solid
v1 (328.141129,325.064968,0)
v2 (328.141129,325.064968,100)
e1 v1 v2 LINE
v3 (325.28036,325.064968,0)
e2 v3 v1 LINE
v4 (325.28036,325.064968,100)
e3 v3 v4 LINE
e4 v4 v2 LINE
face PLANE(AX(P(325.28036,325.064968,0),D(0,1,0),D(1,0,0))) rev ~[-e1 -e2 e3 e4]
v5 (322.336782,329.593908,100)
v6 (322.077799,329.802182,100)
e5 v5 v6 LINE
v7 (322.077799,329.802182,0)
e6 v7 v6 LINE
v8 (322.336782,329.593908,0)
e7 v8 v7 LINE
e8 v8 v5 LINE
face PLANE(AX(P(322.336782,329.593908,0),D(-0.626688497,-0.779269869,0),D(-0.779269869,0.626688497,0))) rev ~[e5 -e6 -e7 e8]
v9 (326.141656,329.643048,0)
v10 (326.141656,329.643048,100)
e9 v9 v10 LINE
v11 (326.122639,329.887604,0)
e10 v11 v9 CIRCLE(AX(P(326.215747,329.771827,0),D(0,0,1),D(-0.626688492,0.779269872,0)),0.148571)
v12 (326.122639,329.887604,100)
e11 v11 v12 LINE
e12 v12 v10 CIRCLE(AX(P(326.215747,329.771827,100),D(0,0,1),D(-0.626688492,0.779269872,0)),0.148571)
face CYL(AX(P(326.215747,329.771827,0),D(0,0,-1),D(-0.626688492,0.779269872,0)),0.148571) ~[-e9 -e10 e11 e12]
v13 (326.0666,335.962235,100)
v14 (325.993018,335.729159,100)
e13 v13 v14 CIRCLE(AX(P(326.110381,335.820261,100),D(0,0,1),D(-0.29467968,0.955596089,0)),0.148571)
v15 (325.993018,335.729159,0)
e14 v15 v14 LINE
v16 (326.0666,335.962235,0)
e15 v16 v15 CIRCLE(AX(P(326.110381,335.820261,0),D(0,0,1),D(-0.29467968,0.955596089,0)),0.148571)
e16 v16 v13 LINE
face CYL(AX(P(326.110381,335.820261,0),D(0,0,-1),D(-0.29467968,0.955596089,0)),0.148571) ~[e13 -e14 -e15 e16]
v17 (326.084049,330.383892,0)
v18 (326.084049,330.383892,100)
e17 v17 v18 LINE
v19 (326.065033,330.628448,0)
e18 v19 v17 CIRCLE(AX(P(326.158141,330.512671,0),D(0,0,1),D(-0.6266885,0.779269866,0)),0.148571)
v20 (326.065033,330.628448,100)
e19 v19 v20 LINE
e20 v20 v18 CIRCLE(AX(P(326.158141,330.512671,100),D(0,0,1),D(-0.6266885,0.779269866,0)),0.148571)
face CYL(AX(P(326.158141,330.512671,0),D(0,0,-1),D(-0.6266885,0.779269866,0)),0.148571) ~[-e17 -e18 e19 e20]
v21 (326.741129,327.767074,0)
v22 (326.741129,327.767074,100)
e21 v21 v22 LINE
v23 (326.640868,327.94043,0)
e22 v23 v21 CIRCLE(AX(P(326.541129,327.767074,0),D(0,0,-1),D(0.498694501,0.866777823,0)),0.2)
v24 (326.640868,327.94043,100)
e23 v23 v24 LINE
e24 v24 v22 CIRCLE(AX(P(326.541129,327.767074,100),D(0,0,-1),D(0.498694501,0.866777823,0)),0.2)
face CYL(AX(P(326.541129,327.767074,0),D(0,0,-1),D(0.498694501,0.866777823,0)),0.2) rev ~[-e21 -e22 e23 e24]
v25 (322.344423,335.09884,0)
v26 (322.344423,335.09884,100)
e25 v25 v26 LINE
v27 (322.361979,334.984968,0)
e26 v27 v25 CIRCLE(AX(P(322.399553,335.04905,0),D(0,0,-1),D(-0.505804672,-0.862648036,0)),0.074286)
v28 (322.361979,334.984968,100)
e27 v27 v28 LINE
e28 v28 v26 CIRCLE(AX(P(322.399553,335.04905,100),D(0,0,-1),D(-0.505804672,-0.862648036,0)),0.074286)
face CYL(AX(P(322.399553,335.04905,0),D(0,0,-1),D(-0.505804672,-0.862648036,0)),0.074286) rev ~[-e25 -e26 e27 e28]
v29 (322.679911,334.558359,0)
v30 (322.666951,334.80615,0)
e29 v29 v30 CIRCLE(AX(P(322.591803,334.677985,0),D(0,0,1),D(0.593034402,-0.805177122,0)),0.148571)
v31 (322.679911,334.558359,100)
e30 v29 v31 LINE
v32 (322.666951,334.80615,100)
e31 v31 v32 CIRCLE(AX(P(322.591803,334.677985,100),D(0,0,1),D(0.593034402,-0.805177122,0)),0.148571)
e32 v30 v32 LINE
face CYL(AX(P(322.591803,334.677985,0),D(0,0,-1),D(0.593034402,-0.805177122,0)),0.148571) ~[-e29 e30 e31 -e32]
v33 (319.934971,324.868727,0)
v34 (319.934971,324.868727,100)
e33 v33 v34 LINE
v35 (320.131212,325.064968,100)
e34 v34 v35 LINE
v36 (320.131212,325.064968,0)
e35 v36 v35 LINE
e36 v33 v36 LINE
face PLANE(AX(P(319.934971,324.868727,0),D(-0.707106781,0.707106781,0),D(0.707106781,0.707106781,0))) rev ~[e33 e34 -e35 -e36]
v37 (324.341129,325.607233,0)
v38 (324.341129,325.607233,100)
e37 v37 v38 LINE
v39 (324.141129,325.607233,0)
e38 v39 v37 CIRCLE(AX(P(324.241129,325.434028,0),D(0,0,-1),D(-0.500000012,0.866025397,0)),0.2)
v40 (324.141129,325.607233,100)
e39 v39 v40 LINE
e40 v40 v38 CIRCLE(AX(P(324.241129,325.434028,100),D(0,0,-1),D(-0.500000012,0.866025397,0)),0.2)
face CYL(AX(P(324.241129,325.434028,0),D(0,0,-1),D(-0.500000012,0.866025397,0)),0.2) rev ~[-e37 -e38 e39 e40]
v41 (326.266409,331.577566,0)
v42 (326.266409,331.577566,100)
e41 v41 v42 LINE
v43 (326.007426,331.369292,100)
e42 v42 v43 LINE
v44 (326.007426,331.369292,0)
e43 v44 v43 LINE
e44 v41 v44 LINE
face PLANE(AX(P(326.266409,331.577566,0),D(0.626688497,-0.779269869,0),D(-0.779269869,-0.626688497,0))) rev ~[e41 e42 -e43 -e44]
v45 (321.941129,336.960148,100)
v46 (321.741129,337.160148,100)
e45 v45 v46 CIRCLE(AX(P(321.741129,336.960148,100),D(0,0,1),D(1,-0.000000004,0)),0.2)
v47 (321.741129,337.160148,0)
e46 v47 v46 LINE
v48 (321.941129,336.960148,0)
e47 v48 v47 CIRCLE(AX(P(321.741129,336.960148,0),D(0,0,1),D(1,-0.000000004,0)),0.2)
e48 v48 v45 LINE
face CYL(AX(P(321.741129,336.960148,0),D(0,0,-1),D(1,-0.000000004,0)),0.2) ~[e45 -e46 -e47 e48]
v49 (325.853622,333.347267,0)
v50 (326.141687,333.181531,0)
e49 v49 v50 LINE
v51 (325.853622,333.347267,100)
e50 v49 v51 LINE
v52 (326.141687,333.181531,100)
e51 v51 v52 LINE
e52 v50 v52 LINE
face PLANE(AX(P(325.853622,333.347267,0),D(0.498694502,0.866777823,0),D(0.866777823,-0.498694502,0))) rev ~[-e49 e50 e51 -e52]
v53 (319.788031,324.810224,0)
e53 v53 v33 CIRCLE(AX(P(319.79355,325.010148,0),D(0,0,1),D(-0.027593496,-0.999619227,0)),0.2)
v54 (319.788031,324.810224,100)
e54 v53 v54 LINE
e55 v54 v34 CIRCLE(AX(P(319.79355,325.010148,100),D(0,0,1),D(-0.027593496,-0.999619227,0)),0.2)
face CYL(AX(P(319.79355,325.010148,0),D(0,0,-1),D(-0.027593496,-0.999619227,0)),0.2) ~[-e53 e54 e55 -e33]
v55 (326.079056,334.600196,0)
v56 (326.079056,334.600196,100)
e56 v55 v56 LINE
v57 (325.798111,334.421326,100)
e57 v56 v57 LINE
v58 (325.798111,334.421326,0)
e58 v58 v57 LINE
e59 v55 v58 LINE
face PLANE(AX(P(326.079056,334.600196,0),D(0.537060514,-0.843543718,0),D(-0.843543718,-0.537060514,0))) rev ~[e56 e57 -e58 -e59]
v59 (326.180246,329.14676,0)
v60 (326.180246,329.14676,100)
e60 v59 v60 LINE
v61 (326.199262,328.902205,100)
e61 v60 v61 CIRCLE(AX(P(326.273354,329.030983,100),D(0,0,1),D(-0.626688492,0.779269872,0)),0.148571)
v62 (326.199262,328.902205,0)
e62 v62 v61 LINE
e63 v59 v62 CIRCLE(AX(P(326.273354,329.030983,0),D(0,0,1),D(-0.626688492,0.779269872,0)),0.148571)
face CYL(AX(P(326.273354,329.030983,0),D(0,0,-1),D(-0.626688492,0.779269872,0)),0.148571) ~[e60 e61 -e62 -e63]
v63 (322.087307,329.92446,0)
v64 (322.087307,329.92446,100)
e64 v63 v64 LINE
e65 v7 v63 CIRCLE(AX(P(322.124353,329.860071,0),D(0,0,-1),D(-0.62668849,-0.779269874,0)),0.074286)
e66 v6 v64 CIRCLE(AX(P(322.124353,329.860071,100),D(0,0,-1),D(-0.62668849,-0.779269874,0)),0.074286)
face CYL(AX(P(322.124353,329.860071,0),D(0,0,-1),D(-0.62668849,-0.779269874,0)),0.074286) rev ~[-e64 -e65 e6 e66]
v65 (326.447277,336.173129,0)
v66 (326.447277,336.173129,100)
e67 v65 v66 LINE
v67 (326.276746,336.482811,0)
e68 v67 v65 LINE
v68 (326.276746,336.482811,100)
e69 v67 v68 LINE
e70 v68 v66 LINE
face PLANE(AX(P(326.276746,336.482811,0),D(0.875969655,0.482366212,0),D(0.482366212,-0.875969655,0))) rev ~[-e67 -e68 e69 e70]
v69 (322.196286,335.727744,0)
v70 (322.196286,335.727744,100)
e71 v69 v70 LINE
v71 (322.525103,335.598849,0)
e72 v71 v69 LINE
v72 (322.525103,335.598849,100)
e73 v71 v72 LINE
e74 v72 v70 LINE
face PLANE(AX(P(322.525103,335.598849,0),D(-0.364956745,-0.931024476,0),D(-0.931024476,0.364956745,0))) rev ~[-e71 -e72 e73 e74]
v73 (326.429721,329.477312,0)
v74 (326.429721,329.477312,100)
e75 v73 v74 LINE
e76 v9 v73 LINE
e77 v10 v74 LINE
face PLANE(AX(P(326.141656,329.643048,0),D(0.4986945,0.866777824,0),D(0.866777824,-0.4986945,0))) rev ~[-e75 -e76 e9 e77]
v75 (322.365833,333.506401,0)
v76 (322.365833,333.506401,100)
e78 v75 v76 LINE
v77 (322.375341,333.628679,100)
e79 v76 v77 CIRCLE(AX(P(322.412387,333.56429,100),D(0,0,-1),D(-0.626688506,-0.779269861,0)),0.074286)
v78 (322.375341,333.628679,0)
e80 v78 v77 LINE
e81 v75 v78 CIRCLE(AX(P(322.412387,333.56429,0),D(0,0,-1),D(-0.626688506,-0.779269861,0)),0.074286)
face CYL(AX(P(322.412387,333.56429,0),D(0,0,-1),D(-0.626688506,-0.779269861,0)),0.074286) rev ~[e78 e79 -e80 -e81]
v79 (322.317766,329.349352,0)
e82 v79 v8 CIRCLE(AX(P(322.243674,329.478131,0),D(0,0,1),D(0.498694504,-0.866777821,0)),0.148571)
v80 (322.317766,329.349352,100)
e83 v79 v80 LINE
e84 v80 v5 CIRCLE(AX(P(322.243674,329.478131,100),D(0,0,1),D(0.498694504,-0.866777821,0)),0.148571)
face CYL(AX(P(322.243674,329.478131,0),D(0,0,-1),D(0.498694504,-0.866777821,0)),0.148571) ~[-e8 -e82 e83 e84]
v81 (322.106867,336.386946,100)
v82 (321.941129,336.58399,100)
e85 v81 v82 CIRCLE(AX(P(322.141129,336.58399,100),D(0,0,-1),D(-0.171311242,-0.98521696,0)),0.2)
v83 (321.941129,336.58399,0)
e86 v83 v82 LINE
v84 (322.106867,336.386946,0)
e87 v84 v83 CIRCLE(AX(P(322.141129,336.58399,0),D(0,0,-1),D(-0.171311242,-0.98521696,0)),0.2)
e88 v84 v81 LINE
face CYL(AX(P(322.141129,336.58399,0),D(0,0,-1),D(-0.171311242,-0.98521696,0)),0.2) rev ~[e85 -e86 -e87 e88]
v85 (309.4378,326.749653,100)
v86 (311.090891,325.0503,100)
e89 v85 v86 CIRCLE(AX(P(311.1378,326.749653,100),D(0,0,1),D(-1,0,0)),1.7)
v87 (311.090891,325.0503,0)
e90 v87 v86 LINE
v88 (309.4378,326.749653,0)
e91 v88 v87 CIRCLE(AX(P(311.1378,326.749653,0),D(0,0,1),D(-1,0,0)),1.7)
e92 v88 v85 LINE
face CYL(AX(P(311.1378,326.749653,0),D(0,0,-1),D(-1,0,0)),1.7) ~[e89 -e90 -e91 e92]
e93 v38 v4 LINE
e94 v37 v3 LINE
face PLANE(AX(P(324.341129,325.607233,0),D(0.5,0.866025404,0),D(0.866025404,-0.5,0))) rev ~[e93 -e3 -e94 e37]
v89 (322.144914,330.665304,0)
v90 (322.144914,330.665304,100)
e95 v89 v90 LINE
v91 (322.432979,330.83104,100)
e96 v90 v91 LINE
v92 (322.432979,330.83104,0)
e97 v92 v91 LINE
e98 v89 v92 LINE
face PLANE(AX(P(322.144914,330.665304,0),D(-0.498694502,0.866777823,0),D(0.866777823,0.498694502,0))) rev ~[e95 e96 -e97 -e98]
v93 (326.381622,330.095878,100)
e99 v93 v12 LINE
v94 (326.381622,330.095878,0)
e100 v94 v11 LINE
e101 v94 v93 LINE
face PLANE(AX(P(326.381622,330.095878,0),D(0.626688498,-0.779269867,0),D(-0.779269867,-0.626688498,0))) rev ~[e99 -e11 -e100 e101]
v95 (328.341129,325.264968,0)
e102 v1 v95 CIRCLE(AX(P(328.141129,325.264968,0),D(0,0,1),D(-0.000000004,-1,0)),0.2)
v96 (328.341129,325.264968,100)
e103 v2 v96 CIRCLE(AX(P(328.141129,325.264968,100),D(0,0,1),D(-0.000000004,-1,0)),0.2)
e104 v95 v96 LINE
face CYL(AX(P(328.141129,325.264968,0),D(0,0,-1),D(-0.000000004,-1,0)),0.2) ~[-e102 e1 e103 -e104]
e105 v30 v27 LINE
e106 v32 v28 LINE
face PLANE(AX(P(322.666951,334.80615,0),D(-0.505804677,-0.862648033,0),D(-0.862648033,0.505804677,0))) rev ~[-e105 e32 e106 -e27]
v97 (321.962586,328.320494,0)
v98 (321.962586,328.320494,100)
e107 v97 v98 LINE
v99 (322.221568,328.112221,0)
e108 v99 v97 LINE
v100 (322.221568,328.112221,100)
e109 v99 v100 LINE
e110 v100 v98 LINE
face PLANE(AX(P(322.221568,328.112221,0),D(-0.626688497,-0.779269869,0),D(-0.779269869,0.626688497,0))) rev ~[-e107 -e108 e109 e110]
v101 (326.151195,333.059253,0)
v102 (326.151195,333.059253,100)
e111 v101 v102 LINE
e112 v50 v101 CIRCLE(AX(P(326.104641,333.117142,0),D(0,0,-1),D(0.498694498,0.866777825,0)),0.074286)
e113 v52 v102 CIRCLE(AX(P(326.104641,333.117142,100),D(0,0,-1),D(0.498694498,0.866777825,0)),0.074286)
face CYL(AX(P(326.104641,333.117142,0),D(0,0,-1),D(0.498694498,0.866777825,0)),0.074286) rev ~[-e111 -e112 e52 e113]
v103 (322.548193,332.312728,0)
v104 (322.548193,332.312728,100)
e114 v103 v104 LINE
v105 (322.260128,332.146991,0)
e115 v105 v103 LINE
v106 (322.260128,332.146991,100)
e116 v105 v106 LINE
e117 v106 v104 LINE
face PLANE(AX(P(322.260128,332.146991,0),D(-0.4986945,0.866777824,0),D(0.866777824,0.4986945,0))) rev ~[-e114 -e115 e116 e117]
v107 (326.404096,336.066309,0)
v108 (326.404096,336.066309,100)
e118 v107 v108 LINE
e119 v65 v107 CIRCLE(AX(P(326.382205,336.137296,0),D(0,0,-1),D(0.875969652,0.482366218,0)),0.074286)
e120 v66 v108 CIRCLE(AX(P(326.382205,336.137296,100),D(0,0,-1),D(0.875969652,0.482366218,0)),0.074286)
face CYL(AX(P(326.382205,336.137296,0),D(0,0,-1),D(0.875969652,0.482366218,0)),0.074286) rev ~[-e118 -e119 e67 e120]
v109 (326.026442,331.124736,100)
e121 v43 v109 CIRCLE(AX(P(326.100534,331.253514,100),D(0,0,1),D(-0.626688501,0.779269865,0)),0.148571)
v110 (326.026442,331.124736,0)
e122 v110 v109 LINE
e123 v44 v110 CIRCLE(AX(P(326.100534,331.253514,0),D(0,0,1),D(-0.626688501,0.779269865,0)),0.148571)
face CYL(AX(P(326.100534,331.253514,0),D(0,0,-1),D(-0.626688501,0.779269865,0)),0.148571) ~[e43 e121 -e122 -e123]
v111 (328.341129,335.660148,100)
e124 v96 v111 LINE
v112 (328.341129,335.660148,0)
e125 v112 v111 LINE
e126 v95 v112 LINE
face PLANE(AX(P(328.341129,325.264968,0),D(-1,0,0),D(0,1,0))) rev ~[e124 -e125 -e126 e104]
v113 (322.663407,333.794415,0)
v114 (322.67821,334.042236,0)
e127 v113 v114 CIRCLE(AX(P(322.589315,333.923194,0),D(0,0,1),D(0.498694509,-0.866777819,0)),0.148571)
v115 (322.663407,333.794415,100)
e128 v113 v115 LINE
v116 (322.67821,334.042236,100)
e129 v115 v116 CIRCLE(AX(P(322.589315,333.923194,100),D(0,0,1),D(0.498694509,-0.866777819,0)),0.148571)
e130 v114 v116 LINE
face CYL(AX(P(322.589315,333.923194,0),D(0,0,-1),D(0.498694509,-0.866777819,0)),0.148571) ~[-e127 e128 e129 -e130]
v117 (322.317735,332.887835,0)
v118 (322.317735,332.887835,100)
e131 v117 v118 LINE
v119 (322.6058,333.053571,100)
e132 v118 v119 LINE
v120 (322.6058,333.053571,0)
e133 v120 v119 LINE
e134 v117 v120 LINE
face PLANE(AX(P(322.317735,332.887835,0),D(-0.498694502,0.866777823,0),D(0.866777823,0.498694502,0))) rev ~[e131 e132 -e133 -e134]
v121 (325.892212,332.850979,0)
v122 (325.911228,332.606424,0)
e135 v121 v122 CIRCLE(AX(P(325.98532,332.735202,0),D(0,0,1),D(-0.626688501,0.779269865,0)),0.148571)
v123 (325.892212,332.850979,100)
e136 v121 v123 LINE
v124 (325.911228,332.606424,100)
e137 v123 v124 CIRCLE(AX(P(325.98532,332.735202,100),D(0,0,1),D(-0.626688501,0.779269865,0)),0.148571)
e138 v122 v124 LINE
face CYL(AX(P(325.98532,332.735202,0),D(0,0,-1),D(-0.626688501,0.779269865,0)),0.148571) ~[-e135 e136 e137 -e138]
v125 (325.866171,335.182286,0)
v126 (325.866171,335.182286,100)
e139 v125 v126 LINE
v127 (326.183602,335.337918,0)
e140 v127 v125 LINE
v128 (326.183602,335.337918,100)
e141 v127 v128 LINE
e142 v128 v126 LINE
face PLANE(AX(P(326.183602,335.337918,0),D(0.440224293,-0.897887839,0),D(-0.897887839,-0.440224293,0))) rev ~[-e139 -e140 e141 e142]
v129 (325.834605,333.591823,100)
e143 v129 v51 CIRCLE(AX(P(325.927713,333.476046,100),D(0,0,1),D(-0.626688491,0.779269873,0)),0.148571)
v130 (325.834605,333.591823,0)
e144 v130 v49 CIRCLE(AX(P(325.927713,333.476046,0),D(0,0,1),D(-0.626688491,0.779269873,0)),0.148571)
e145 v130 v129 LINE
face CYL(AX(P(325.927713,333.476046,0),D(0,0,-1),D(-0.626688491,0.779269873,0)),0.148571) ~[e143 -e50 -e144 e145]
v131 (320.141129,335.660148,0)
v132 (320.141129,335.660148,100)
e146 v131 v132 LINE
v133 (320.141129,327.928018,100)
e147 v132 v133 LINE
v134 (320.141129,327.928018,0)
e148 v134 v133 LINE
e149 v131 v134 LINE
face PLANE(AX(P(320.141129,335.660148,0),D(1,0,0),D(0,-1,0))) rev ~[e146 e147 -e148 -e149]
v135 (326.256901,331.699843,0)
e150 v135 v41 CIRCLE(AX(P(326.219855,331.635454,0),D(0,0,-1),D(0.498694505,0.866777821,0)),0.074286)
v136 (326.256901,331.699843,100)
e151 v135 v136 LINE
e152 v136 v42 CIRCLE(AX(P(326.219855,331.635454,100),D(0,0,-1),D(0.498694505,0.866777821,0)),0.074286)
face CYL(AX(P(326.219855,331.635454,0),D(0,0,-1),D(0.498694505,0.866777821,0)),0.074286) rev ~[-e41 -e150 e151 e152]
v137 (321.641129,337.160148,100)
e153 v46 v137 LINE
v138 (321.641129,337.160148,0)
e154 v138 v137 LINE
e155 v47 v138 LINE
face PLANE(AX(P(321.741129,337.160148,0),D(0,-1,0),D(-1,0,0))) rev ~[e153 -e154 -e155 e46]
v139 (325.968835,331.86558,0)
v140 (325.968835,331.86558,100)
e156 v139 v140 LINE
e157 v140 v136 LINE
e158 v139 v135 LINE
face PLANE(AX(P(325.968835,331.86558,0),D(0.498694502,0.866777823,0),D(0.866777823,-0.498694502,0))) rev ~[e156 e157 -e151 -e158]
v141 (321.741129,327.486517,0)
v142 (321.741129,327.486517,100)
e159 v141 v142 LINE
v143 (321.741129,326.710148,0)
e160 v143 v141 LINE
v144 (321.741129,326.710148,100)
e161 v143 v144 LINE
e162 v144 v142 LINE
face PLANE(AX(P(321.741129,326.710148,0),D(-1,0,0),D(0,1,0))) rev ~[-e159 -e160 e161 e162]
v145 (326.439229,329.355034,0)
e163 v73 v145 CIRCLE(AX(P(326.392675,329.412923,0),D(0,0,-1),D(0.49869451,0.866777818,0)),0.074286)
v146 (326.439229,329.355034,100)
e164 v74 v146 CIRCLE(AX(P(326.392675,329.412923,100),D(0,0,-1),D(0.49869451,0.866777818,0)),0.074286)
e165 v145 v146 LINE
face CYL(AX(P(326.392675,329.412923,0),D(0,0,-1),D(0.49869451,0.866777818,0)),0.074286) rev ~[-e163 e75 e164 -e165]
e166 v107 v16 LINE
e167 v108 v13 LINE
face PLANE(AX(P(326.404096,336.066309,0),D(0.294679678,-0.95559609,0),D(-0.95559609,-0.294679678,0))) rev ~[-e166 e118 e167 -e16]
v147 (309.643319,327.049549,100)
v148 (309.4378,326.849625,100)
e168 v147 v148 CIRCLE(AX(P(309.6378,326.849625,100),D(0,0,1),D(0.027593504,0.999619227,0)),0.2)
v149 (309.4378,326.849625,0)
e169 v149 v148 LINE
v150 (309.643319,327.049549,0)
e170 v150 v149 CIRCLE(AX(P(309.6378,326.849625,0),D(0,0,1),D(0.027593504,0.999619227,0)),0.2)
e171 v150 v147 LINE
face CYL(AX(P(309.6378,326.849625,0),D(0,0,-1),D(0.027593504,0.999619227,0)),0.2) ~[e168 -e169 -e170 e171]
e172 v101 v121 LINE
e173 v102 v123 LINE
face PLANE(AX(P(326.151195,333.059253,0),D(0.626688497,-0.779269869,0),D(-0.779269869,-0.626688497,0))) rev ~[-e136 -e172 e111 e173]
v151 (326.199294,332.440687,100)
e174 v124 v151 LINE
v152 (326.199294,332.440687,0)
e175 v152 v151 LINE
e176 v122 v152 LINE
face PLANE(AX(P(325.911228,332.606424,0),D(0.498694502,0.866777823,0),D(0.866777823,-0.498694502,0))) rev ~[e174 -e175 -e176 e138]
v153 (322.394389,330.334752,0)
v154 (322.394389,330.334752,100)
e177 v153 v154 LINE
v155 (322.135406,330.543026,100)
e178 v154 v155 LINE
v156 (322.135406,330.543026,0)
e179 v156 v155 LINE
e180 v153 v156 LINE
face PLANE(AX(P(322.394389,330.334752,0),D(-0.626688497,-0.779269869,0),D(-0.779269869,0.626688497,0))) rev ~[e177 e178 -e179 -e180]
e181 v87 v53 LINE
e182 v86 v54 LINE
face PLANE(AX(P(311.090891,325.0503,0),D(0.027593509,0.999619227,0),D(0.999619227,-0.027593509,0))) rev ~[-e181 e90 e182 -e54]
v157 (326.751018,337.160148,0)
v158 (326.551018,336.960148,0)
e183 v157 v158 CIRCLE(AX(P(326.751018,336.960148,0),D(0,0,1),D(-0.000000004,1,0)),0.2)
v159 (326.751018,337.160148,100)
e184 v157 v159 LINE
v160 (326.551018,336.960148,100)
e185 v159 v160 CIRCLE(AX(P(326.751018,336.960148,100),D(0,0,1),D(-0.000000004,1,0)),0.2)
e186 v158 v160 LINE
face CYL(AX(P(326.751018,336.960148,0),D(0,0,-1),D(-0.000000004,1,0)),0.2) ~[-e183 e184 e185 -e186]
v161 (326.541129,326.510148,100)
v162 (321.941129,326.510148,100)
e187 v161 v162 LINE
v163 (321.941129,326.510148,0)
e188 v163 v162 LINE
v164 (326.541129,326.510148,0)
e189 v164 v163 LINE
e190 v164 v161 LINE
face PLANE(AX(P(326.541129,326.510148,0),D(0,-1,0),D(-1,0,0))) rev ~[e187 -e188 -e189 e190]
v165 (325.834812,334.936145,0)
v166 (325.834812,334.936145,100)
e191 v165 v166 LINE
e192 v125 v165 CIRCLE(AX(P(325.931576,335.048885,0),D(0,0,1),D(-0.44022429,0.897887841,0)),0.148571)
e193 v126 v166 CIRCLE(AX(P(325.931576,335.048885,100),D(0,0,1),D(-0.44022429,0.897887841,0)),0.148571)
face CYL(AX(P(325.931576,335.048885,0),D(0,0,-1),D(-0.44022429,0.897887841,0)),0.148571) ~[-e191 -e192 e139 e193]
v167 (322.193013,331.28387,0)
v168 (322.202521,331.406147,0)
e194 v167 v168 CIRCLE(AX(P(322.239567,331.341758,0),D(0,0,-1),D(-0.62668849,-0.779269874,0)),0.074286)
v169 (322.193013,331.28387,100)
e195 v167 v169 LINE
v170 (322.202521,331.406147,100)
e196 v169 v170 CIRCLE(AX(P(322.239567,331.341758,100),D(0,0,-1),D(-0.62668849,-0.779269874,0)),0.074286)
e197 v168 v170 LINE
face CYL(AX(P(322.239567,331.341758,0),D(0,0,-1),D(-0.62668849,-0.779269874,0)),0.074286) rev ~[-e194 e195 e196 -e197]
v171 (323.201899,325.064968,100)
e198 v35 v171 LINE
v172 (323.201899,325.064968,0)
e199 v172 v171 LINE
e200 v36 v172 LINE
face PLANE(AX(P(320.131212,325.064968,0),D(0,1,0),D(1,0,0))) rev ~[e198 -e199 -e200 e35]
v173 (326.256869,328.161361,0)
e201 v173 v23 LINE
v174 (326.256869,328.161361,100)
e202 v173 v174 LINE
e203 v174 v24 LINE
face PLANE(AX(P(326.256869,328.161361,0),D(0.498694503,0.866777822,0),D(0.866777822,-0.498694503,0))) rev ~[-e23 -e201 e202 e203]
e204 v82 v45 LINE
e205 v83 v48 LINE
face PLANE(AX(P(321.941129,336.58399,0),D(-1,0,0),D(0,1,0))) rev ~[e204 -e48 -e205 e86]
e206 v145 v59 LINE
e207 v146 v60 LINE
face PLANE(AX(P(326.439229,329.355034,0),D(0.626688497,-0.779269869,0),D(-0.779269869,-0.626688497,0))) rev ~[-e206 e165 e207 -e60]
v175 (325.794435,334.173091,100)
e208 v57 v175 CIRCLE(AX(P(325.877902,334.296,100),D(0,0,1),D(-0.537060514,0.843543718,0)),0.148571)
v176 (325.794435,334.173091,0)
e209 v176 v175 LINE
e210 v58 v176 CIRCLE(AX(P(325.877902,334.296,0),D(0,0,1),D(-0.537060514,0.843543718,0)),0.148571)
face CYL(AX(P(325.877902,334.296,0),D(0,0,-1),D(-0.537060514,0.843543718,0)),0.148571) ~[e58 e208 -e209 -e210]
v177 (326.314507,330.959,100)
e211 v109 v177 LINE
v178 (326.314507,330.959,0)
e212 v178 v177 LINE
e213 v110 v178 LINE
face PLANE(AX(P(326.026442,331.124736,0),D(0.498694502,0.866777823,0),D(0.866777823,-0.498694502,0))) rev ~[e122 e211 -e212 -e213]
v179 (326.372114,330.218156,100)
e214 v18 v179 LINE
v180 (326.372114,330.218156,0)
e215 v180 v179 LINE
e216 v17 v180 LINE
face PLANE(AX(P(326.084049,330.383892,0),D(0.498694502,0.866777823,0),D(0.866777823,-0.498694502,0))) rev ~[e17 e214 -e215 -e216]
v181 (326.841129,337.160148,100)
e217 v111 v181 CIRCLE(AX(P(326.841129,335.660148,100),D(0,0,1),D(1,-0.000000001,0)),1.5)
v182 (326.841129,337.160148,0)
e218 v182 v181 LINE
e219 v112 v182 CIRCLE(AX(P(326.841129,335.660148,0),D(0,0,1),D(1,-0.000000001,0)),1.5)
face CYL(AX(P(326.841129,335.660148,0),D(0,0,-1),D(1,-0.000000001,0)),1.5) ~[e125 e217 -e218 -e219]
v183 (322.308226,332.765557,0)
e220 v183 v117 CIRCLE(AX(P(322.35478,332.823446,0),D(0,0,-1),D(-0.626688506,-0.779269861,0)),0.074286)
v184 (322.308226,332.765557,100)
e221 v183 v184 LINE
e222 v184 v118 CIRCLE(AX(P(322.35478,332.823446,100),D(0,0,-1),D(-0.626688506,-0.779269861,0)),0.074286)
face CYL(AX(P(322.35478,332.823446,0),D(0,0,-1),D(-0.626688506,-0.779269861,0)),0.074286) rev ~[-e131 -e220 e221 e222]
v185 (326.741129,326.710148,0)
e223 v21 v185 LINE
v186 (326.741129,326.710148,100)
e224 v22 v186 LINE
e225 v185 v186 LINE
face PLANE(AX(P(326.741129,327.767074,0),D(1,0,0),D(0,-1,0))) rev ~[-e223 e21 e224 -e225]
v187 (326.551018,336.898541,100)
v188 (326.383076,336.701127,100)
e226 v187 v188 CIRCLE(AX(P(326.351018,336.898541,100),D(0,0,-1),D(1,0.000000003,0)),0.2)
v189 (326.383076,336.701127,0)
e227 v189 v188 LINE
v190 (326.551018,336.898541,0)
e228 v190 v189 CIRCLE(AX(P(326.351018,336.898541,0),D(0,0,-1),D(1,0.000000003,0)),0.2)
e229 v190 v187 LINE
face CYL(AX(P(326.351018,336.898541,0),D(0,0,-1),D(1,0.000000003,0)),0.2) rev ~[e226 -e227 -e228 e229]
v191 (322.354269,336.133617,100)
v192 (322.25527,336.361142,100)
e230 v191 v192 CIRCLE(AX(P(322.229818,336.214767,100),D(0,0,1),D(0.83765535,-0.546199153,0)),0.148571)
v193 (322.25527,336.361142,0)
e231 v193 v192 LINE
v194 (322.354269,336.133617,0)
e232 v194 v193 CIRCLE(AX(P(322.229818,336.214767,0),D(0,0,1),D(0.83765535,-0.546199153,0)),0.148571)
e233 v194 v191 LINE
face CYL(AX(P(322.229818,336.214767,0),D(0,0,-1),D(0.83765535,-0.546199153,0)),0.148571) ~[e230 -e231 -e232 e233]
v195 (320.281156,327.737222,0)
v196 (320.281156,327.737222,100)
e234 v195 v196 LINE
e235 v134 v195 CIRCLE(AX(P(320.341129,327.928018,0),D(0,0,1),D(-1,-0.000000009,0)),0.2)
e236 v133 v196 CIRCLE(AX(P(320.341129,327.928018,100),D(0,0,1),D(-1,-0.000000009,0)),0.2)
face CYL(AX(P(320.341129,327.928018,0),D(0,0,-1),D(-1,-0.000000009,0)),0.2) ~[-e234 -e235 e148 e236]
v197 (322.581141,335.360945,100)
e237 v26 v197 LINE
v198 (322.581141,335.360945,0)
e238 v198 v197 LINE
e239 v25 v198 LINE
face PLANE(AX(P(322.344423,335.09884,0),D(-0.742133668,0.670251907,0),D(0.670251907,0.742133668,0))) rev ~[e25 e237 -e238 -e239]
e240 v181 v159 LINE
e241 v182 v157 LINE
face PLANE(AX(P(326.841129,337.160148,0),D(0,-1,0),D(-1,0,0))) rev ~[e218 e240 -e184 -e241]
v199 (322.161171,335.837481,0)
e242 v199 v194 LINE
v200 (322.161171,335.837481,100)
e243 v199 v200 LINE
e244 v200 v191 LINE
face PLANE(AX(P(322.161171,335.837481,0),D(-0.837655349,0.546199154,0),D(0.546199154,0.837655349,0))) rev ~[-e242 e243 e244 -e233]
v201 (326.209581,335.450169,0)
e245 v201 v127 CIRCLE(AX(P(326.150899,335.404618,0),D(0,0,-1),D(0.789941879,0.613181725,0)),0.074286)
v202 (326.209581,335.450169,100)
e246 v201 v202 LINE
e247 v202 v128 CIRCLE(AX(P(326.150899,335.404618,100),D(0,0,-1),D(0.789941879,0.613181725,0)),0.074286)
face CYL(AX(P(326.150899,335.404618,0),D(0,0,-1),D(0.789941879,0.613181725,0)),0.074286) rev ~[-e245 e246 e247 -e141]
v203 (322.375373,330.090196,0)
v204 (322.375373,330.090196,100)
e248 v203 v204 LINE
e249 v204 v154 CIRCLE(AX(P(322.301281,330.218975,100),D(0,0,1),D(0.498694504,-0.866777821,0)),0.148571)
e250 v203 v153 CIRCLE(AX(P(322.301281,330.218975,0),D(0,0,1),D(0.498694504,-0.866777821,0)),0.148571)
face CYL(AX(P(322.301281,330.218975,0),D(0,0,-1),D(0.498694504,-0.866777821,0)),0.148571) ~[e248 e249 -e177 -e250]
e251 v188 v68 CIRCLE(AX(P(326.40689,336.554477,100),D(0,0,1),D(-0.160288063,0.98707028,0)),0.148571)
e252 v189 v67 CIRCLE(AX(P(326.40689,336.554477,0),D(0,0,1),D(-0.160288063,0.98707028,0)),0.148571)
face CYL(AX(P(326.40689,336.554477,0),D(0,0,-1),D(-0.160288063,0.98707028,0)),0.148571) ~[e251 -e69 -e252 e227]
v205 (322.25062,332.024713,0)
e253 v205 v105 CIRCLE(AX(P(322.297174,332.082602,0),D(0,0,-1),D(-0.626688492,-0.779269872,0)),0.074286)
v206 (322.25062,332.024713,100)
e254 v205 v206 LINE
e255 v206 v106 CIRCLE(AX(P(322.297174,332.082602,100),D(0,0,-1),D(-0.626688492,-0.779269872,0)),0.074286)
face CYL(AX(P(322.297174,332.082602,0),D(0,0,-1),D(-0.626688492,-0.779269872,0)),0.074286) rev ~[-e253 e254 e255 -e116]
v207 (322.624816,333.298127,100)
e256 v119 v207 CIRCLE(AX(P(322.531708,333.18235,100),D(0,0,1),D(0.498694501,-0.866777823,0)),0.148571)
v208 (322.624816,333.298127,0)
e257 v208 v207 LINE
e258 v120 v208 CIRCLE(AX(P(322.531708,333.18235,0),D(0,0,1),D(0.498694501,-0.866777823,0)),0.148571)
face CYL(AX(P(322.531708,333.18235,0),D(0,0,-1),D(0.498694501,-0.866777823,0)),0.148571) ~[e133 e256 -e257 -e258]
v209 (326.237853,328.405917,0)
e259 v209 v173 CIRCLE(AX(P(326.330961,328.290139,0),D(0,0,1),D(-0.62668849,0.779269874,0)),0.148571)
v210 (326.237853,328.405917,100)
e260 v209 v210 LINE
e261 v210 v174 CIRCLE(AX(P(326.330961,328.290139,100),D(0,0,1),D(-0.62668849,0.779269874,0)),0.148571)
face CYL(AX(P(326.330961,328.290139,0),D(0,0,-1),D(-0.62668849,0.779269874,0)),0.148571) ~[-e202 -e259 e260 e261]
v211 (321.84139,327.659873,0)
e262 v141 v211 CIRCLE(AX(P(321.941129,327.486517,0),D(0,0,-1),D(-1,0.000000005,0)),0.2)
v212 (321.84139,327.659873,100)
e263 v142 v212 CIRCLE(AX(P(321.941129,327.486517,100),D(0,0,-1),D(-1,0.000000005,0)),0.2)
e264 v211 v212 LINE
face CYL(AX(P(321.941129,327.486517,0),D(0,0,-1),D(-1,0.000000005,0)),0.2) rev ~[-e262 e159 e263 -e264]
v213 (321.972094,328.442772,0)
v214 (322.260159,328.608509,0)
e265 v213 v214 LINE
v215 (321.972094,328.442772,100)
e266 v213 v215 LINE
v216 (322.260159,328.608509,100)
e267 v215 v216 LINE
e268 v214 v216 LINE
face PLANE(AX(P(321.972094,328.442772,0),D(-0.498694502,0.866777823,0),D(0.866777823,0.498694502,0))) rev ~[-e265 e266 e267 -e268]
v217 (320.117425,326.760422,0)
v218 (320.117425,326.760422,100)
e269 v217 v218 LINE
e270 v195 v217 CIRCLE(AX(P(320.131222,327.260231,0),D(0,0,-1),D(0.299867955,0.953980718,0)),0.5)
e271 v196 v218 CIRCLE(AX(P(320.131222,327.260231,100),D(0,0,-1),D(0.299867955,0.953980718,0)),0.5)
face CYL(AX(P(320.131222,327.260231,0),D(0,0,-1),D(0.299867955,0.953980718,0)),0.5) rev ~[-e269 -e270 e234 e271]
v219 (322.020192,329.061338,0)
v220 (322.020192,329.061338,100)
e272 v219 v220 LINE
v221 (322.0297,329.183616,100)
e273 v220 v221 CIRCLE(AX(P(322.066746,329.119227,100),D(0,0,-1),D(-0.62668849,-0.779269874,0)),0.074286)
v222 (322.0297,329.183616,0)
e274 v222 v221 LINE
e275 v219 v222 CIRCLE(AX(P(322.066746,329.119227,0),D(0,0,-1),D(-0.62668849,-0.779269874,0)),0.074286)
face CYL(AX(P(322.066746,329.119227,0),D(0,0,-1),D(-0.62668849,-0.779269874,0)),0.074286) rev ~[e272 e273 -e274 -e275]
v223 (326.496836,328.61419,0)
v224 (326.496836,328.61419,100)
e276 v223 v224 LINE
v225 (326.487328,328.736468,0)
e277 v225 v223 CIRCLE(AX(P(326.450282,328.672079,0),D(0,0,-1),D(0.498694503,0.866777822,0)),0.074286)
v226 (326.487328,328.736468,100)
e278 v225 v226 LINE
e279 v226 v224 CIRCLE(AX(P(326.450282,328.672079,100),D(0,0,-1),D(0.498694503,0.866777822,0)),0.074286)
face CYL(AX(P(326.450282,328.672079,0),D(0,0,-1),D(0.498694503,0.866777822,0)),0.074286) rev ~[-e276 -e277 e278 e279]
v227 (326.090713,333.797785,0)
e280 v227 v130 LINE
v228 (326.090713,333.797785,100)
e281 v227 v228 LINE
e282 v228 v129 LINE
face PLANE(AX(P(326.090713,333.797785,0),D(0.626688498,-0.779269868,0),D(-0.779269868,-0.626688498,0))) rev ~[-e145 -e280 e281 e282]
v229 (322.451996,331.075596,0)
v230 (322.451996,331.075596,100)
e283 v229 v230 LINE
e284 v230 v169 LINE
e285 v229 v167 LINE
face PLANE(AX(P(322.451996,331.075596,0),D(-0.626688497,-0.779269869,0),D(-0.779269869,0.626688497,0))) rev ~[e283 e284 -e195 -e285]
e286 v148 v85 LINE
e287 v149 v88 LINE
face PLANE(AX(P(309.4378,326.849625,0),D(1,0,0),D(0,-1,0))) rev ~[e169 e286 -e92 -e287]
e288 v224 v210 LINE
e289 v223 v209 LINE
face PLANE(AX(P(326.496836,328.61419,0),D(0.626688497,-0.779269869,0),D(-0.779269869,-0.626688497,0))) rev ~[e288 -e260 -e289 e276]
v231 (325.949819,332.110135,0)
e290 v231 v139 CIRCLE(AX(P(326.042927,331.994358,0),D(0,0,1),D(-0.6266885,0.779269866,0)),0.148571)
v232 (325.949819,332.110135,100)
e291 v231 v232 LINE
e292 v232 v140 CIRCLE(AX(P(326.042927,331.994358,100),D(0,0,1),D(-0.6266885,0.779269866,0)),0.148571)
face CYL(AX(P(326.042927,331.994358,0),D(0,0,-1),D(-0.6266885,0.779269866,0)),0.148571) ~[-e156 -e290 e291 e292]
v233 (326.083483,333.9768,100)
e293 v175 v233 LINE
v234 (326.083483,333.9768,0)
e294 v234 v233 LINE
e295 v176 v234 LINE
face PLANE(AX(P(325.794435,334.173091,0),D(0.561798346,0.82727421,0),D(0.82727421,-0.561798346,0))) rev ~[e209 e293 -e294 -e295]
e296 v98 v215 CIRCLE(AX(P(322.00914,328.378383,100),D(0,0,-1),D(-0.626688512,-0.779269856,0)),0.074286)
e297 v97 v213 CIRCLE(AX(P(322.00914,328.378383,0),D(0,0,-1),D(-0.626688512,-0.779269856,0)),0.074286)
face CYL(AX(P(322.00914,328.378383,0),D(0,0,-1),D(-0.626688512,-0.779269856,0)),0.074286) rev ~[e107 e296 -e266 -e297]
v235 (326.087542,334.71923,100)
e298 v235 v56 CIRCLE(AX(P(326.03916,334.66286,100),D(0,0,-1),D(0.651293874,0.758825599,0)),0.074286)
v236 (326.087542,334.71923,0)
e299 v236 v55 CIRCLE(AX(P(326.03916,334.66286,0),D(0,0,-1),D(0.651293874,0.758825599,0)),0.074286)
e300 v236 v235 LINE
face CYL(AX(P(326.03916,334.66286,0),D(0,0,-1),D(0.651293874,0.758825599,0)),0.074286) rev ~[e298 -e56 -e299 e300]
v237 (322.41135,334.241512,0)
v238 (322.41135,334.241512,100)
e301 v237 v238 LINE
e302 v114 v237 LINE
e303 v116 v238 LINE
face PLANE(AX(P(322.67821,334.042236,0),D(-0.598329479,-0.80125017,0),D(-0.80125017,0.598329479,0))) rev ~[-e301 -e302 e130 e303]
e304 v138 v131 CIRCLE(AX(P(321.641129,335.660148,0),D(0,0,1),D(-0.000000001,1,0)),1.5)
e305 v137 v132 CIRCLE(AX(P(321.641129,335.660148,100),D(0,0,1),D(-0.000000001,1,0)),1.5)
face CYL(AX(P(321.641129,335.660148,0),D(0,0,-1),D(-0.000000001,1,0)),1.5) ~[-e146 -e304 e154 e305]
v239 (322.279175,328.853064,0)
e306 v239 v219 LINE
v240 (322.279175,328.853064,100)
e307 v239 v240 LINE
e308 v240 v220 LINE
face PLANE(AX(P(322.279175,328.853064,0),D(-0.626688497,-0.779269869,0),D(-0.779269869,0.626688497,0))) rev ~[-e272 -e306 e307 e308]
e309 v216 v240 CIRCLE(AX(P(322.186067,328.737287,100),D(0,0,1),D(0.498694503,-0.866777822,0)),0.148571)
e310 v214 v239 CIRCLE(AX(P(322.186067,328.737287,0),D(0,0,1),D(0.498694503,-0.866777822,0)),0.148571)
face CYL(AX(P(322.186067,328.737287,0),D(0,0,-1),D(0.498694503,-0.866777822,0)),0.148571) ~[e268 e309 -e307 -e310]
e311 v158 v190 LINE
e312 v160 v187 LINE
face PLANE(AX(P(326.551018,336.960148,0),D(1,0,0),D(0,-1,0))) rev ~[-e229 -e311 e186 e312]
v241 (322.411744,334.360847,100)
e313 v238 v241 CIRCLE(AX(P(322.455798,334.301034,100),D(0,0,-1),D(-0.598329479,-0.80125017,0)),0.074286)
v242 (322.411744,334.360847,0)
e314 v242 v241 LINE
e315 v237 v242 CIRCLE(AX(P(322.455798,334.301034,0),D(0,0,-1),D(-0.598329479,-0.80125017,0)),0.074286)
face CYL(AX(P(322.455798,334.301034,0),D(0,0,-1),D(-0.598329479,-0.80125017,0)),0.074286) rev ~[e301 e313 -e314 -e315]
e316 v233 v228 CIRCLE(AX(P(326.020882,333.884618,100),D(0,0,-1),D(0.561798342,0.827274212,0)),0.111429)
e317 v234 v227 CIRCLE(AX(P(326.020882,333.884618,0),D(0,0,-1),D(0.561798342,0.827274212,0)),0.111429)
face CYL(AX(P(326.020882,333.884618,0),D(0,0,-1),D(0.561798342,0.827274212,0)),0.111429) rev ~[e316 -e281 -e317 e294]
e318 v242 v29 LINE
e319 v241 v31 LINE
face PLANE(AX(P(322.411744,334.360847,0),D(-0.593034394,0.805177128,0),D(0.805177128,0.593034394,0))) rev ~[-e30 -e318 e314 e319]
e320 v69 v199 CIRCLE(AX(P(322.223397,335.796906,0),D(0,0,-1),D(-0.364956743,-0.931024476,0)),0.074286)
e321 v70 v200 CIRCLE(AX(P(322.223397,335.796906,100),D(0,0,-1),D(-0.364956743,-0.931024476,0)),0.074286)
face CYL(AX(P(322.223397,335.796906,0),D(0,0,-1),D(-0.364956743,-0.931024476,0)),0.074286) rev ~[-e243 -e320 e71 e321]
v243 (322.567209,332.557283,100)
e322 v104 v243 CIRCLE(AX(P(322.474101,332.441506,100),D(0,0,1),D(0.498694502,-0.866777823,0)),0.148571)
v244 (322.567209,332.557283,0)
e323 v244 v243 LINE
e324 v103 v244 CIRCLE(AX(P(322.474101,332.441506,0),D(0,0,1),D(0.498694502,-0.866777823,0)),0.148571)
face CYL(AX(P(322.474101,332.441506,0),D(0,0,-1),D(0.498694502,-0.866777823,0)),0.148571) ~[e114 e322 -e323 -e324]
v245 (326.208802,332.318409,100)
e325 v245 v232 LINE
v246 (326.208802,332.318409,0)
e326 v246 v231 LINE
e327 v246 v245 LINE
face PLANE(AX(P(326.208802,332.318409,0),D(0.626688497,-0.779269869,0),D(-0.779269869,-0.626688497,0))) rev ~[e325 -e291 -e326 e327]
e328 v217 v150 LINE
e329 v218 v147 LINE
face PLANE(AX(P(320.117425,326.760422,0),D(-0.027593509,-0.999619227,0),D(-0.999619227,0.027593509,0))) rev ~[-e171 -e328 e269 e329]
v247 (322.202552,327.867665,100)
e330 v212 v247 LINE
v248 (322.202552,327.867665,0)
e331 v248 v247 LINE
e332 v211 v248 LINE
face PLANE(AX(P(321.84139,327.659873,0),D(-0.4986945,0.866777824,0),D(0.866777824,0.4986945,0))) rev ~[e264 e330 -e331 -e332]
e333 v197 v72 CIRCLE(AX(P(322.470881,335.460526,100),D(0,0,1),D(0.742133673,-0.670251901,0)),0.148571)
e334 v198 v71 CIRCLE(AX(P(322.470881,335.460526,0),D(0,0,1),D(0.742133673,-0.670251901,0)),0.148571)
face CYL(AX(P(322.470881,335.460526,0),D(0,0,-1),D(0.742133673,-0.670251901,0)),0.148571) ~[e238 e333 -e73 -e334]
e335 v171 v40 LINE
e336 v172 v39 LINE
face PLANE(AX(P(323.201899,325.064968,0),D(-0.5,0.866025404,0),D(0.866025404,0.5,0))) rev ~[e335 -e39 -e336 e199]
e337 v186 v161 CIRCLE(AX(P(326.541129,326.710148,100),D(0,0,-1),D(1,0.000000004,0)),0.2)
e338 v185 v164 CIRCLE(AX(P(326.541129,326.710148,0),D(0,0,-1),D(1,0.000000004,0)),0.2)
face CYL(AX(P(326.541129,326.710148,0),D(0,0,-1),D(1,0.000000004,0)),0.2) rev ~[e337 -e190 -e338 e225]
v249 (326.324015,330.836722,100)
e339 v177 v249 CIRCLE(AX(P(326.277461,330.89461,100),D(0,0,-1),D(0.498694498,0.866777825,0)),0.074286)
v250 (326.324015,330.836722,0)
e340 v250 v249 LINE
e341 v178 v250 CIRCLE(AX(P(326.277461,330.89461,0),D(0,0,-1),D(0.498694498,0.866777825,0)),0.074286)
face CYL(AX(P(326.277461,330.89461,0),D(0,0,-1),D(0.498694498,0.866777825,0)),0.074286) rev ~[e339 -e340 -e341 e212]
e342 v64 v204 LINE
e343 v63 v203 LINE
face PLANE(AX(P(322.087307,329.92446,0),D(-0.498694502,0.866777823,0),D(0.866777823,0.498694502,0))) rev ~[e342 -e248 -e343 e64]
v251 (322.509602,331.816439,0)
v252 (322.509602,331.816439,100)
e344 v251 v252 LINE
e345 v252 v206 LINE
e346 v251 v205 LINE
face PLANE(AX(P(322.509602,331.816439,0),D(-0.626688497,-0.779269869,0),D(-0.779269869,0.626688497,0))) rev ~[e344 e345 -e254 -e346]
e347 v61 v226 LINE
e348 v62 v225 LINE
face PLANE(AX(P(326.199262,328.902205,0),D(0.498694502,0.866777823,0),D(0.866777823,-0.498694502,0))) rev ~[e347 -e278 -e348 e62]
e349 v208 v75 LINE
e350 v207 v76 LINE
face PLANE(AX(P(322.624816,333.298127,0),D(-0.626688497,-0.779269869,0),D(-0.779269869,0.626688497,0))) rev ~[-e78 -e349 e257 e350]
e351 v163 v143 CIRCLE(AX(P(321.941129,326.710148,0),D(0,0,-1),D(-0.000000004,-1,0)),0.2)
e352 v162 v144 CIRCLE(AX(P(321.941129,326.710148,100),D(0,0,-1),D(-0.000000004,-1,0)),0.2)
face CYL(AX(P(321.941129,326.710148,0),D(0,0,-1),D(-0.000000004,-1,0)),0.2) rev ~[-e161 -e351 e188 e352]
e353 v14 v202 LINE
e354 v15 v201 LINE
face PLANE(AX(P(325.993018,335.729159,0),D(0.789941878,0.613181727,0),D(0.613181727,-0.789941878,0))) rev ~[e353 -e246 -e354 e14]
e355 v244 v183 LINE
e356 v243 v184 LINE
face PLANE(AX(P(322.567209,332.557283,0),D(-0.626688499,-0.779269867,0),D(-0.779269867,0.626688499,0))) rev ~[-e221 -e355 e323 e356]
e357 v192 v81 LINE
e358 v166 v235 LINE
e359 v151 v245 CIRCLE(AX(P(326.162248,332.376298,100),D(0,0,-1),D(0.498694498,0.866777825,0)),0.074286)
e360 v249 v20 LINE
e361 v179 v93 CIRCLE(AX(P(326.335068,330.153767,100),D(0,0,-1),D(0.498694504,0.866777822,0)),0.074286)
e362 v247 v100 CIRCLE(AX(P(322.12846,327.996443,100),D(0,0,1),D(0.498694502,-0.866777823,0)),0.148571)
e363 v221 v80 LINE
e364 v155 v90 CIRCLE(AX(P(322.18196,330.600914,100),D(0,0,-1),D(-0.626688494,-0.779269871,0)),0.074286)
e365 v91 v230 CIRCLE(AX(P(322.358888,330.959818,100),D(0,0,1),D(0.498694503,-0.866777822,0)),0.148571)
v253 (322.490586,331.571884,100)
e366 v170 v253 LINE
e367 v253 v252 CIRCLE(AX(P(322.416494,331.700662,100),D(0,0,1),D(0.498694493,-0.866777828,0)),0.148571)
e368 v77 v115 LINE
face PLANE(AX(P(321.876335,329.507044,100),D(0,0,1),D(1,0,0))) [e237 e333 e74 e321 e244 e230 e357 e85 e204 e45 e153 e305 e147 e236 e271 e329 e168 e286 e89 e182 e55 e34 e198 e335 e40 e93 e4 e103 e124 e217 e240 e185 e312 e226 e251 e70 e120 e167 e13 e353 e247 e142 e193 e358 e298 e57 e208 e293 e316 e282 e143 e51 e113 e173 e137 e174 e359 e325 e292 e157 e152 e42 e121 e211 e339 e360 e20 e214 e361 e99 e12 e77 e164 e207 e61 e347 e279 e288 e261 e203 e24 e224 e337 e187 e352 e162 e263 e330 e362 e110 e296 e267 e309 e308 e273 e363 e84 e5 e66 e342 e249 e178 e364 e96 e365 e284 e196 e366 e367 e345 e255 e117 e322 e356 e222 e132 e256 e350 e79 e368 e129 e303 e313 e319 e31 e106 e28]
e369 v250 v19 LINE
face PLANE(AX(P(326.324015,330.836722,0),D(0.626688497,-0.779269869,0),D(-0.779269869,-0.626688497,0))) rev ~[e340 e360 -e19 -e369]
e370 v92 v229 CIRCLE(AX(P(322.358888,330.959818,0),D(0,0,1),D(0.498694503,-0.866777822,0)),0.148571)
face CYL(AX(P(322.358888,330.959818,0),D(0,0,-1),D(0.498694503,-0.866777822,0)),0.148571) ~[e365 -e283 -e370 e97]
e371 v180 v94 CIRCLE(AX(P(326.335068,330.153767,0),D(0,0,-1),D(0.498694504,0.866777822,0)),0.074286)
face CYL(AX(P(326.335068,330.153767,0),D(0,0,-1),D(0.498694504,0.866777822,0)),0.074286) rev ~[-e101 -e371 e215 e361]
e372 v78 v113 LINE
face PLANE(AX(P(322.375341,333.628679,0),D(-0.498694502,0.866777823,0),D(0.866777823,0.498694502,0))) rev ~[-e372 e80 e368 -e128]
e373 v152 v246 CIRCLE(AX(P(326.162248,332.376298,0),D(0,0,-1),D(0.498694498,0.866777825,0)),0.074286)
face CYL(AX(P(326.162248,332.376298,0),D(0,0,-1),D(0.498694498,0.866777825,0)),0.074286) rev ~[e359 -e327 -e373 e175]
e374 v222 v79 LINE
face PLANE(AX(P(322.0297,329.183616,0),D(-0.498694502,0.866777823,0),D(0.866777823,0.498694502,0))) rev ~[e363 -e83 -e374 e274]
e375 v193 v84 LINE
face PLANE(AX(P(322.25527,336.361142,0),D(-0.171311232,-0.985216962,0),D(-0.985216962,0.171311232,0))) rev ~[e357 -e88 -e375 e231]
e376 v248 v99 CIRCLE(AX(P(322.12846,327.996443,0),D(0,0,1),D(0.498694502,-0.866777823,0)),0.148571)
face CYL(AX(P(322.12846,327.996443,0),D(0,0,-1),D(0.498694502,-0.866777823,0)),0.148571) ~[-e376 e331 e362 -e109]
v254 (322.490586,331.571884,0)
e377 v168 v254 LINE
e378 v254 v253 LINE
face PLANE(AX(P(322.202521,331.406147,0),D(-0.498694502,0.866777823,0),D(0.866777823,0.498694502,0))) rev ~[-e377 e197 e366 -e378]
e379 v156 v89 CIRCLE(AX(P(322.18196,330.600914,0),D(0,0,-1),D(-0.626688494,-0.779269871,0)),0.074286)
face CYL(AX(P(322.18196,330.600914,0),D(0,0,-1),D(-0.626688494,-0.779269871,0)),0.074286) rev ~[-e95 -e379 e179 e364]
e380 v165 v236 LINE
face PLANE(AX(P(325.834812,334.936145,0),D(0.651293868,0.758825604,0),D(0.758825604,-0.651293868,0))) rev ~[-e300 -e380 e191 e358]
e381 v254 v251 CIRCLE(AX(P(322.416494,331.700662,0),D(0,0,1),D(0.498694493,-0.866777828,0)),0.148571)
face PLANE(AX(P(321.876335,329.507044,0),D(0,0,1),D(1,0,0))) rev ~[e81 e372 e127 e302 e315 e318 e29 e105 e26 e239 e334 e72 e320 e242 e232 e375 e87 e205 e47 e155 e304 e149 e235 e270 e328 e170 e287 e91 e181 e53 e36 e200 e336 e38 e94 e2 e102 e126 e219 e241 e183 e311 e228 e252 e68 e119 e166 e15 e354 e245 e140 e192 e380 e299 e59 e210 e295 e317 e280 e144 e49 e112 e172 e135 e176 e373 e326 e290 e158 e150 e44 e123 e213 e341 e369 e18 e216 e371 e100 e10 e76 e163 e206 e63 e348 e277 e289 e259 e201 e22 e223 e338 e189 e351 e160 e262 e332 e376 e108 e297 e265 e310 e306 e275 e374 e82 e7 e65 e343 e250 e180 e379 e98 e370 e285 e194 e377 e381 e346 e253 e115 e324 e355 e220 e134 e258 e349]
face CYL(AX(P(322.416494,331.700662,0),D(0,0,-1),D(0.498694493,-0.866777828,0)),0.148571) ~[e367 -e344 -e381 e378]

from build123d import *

# Parameters (mm, degrees)
EXTRUDE_1_DEPTH = 100


with BuildPart() as part:
    # Эскиз1 → Бобышка-Вытянуть1 (new body)
    with BuildSketch(Plane.XY):
        with BuildLine():
            Line((311.090891371, 325.050300163), (319.788031344, 324.810224137))
            ThreePointArc((319.788031344, 324.810224137), (319.867529895, 324.824333608), (319.934971402, 324.868726626))
            Line((319.934971402, 324.868726626), (320.131212385, 325.064967609))
            Line((320.131212385, 325.064967609), (323.201898914, 325.064967609))
            Line((323.201898914, 325.064967609), (324.141129398, 325.607232582))
            ThreePointArc((324.141129398, 325.607232582), (324.241129398, 325.634027502), (324.341129398, 325.607232582))
            Line((324.341129398, 325.607232582), (325.280359883, 325.064967609))
            Line((325.280359883, 325.064967609), (328.141129398, 325.064967609))
            ThreePointArc((328.141129398, 325.064967609), (328.282550755, 325.123546253), (328.341129398, 325.264967609))
            Line((328.341129398, 325.264967609), (328.341129398, 335.660147982))
            ThreePointArc((328.341129398, 335.660147982), (327.90178957, 336.720808154), (326.841129398, 337.160147982))
            Line((326.841129398, 337.160147982), (326.751018387, 337.160147982))
            ThreePointArc((326.751018387, 337.160147982), (326.609597031, 337.101569338), (326.551018387, 336.960147982))
            Line((326.551018387, 336.960147982), (326.551018387, 336.898541414))
            ThreePointArc((326.551018387, 336.898541414), (326.50335276, 336.768948826), (326.383075998, 336.701127358))
            ThreePointArc((326.383075998, 336.701127358), (326.273318939, 336.619532133), (326.27674616, 336.482811079))
            Line((326.27674616, 336.482811079), (326.447277251, 336.173129229))
            ThreePointArc((326.447277251, 336.173129229), (326.451076485, 336.109455402), (326.40409571, 336.066309172))
            Line((326.40409571, 336.066309172), (326.066600192, 335.962234792))
            ThreePointArc((326.066600192, 335.962234792), (325.96870237, 335.864988428), (325.99301838, 335.729159231))
            Line((325.99301838, 335.729159231), (326.209580677, 335.450169137))
            ThreePointArc((326.209580677, 335.450169137), (326.223272021, 335.387868756), (326.183601656, 335.337918255))
            Line((326.183601656, 335.337918255), (325.866171063, 335.182285611))
            ThreePointArc((325.866171063, 335.182285611), (325.784195666, 335.067661744), (325.834812154, 334.936145328))
            Line((325.834812154, 334.936145328), (326.08754177, 334.719229546))
            ThreePointArc((326.08754177, 334.719229546), (326.113257599, 334.657577201), (326.079055863, 334.600196396))
            Line((326.079055863, 334.600196396), (325.798110573, 334.421326447))
            ThreePointArc((325.798110573, 334.421326447), (325.729347274, 334.298199433), (325.794435238, 334.173090641))
            Line((325.794435238, 334.173090641), (326.083482656, 333.976799787))
            ThreePointArc((326.083482656, 333.976799787), (326.132220057, 333.889114864), (326.090713273, 333.797784875))
            Line((326.090713273, 333.797784875), (325.834605364, 333.591823003))
            ThreePointArc((325.834605364, 333.591823003), (325.779589072, 333.464527861), (325.853621615, 333.347267346))
            Line((325.853621615, 333.347267346), (326.141686948, 333.18153099))
            ThreePointArc((326.141686948, 333.18153099), (326.178703219, 333.122900733), (326.151195073, 333.059253162))
            Line((326.151195073, 333.059253162), (325.892212173, 332.850979224))
            ThreePointArc((325.892212173, 332.850979224), (325.837195882, 332.723684082), (325.911228424, 332.606423567))
            Line((325.911228424, 332.606423567), (326.199293757, 332.440687211))
            ThreePointArc((326.199293757, 332.440687211), (326.236310028, 332.382056954), (326.208801882, 332.318409383))
            Line((326.208801882, 332.318409383), (325.949818982, 332.110135445))
            ThreePointArc((325.949818982, 332.110135445), (325.894802691, 331.982840302), (325.968835233, 331.865579788))
            Line((325.968835233, 331.865579788), (326.256900566, 331.699843432))
            ThreePointArc((326.256900566, 331.699843432), (326.293916837, 331.641213174), (326.266408691, 331.577565603))
            Line((326.266408691, 331.577565603), (326.007425791, 331.369291665))
            ThreePointArc((326.007425791, 331.369291665), (325.9524095, 331.241996523), (326.026442042, 331.124736008))
            Line((326.026442042, 331.124736008), (326.314507375, 330.958999652))
            ThreePointArc((326.314507375, 330.958999652), (326.351523646, 330.900369395), (326.3240155, 330.836721824))
            Line((326.3240155, 330.836721824), (326.0650326, 330.628447886))
            ThreePointArc((326.0650326, 330.628447886), (326.010016309, 330.501152743), (326.084048851, 330.383892229))
            Line((326.084048851, 330.383892229), (326.372114184, 330.218155873))
            ThreePointArc((326.372114184, 330.218155873), (326.409130455, 330.159525616), (326.381622309, 330.095878044))
            Line((326.381622309, 330.095878044), (326.12263941, 329.887604106))
            ThreePointArc((326.12263941, 329.887604106), (326.067623118, 329.760308964), (326.14165566, 329.643048449))
            Line((326.14165566, 329.643048449), (326.429720993, 329.477312094))
            ThreePointArc((326.429720993, 329.477312094), (326.466737264, 329.418681836), (326.439229119, 329.355034265))
            Line((326.439229119, 329.355034265), (326.180246219, 329.146760327))
            ThreePointArc((326.180246219, 329.146760327), (326.125229927, 329.019465185), (326.199262469, 328.90220467))
            Line((326.199262469, 328.90220467), (326.487327802, 328.736468314))
            ThreePointArc((326.487327802, 328.736468314), (326.524344073, 328.677838057), (326.496835928, 328.614190486))
            Line((326.496835928, 328.614190486), (326.237853028, 328.405916548))
            ThreePointArc((326.237853028, 328.405916548), (326.182836736, 328.278621405), (326.256869279, 328.161360891))
            Line((326.256869279, 328.161360891), (326.640868299, 327.940429765))
            ThreePointArc((326.640868299, 327.940429765), (326.71425909, 327.867204665), (326.741129398, 327.767074201))
            Line((326.741129398, 327.767074201), (326.741129398, 326.710147982))
            ThreePointArc((326.741129398, 326.710147982), (326.682550755, 326.568726626), (326.541129398, 326.510147982))
            Line((326.541129398, 326.510147982), (321.941129398, 326.510147982))
            ThreePointArc((321.941129398, 326.510147982), (321.799708042, 326.568726626), (321.741129398, 326.710147982))
            Line((321.741129398, 326.710147982), (321.741129398, 327.486517476))
            ThreePointArc((321.741129398, 327.486517476), (321.767999707, 327.586647941), (321.841390498, 327.659873041))
            Line((321.841390498, 327.659873041), (322.202552193, 327.867664872))
            ThreePointArc((322.202552193, 327.867664872), (322.276584735, 327.984925387), (322.221568443, 328.112220529))
            Line((322.221568443, 328.112220529), (321.962585543, 328.320494467))
            ThreePointArc((321.962585543, 328.320494467), (321.935077398, 328.384142038), (321.972093669, 328.442772296))
            Line((321.972093669, 328.442772296), (322.260159002, 328.608508652))
            ThreePointArc((322.260159002, 328.608508652), (322.334191544, 328.725769166), (322.279175253, 328.853064309))
            Line((322.279175253, 328.853064309), (322.020192353, 329.061338247))
            ThreePointArc((322.020192353, 329.061338247), (321.992684207, 329.124985818), (322.029700478, 329.183616075))
            Line((322.029700478, 329.183616075), (322.317765811, 329.349352431))
            ThreePointArc((322.317765811, 329.349352431), (322.391798353, 329.466612946), (322.336782062, 329.593908088))
            Line((322.336782062, 329.593908088), (322.077799162, 329.802182026))
            ThreePointArc((322.077799162, 329.802182026), (322.050291016, 329.865829597), (322.087307287, 329.924459854))
            Line((322.087307287, 329.924459854), (322.37537262, 330.09019621))
            ThreePointArc((322.37537262, 330.09019621), (322.449405162, 330.207456725), (322.394388871, 330.334751867))
            Line((322.394388871, 330.334751867), (322.135405971, 330.543025805))
            ThreePointArc((322.135405971, 330.543025805), (322.107897825, 330.606673377), (322.144914096, 330.665303634))
            Line((322.144914096, 330.665303634), (322.432979429, 330.83103999))
            ThreePointArc((322.432979429, 330.83103999), (322.507011971, 330.948300504), (322.45199568, 331.075595647))
            Line((322.45199568, 331.075595647), (322.19301278, 331.283869585))
            ThreePointArc((322.19301278, 331.283869585), (322.165504634, 331.347517156), (322.202520905, 331.406147413))
            Line((322.202520905, 331.406147413), (322.490586238, 331.571883769))
            ThreePointArc((322.490586238, 331.571883769), (322.564618781, 331.689144284), (322.509602489, 331.816439426))
            Line((322.509602489, 331.816439426), (322.250619589, 332.024713364))
            ThreePointArc((322.250619589, 332.024713364), (322.223111443, 332.088360935), (322.260127715, 332.146991193))
            Line((322.260127715, 332.146991193), (322.548193048, 332.312727548))
            ThreePointArc((322.548193048, 332.312727548), (322.62222559, 332.429988063), (322.567209298, 332.557283205))
            Line((322.567209298, 332.557283205), (322.308226398, 332.765557144))
            ThreePointArc((322.308226398, 332.765557144), (322.280718253, 332.829204715), (322.317734524, 332.887834972))
            Line((322.317734524, 332.887834972), (322.605799857, 333.053571328))
            ThreePointArc((322.605799857, 333.053571328), (322.679832399, 333.170831842), (322.624816107, 333.298126985))
            Line((322.624816107, 333.298126985), (322.365833207, 333.506400923))
            ThreePointArc((322.365833207, 333.506400923), (322.338325062, 333.570048494), (322.375341333, 333.628678751))
            Line((322.375341333, 333.628678751), (322.663406666, 333.794415107))
            ThreePointArc((322.663406666, 333.794415107), (322.737622, 333.914334818), (322.678209577, 334.042236409))
            Line((322.678209577, 334.042236409), (322.411350306, 334.241512209))
            ThreePointArc((322.411350306, 334.241512209), (322.381512328, 334.301278508), (322.411743655, 334.360846808))
            Line((322.411743655, 334.360846808), (322.679910814, 334.558359061))
            ThreePointArc((322.679910814, 334.558359061), (322.740171486, 334.685745276), (322.666950969, 334.806150228))
            Line((322.666950969, 334.806150228), (322.361978717, 334.984967527))
            ThreePointArc((322.361978717, 334.984967527), (322.326134471, 335.037730965), (322.344422849, 335.098840094))
            Line((322.344422849, 335.098840094), (322.581141078, 335.36094538))
            ThreePointArc((322.581141078, 335.36094538), (322.615495018, 335.494589107), (322.525103363, 335.598849299))
            Line((322.525103363, 335.598849299), (322.196285999, 335.727743993))
            ThreePointArc((322.196285999, 335.727743993), (322.152645383, 335.774265892), (322.161171245, 335.837480605))
            Line((322.161171245, 335.837480605), (322.354269218, 336.133617186))
            ThreePointArc((322.354269218, 336.133617186), (322.366051346, 336.274044313), (322.25526952, 336.361141866))
            Line((322.25526952, 336.361141866), (322.106867151, 336.386946327))
            ThreePointArc((322.106867151, 336.386946327), (321.988073119, 336.455250544), (321.941129398, 336.58398972))
            Line((321.941129398, 336.58398972), (321.941129398, 336.960147982))
            ThreePointArc((321.941129398, 336.960147982), (321.882550755, 337.101569338), (321.741129398, 337.160147982))
            Line((321.741129398, 337.160147982), (321.641129398, 337.160147982))
            ThreePointArc((321.641129398, 337.160147982), (320.580469227, 336.720808154), (320.141129398, 335.660147982))
            Line((320.141129398, 335.660147982), (320.141129398, 327.928017713))
            ThreePointArc((320.141129398, 327.928017713), (320.179892433, 327.809684958), (320.281155808, 327.737221569))
            ThreePointArc((320.281155808, 327.737221569), (320.624342386, 327.177574585), (320.117425076, 326.760421597))
            Line((320.117425076, 326.760421597), (309.643319038, 327.04954903))
            ThreePointArc((309.643319038, 327.04954903), (309.498343785, 326.992984419), (309.437800337, 326.849625185))
            Line((309.437800337, 326.849625185), (309.437800337, 326.749652848))
            ThreePointArc((309.437800337, 326.749652848), (309.919246841, 325.564272159), (311.090891371, 325.050300163))
        make_face()
    extrude(amount=EXTRUDE_1_DEPTH)


solid = part.part
